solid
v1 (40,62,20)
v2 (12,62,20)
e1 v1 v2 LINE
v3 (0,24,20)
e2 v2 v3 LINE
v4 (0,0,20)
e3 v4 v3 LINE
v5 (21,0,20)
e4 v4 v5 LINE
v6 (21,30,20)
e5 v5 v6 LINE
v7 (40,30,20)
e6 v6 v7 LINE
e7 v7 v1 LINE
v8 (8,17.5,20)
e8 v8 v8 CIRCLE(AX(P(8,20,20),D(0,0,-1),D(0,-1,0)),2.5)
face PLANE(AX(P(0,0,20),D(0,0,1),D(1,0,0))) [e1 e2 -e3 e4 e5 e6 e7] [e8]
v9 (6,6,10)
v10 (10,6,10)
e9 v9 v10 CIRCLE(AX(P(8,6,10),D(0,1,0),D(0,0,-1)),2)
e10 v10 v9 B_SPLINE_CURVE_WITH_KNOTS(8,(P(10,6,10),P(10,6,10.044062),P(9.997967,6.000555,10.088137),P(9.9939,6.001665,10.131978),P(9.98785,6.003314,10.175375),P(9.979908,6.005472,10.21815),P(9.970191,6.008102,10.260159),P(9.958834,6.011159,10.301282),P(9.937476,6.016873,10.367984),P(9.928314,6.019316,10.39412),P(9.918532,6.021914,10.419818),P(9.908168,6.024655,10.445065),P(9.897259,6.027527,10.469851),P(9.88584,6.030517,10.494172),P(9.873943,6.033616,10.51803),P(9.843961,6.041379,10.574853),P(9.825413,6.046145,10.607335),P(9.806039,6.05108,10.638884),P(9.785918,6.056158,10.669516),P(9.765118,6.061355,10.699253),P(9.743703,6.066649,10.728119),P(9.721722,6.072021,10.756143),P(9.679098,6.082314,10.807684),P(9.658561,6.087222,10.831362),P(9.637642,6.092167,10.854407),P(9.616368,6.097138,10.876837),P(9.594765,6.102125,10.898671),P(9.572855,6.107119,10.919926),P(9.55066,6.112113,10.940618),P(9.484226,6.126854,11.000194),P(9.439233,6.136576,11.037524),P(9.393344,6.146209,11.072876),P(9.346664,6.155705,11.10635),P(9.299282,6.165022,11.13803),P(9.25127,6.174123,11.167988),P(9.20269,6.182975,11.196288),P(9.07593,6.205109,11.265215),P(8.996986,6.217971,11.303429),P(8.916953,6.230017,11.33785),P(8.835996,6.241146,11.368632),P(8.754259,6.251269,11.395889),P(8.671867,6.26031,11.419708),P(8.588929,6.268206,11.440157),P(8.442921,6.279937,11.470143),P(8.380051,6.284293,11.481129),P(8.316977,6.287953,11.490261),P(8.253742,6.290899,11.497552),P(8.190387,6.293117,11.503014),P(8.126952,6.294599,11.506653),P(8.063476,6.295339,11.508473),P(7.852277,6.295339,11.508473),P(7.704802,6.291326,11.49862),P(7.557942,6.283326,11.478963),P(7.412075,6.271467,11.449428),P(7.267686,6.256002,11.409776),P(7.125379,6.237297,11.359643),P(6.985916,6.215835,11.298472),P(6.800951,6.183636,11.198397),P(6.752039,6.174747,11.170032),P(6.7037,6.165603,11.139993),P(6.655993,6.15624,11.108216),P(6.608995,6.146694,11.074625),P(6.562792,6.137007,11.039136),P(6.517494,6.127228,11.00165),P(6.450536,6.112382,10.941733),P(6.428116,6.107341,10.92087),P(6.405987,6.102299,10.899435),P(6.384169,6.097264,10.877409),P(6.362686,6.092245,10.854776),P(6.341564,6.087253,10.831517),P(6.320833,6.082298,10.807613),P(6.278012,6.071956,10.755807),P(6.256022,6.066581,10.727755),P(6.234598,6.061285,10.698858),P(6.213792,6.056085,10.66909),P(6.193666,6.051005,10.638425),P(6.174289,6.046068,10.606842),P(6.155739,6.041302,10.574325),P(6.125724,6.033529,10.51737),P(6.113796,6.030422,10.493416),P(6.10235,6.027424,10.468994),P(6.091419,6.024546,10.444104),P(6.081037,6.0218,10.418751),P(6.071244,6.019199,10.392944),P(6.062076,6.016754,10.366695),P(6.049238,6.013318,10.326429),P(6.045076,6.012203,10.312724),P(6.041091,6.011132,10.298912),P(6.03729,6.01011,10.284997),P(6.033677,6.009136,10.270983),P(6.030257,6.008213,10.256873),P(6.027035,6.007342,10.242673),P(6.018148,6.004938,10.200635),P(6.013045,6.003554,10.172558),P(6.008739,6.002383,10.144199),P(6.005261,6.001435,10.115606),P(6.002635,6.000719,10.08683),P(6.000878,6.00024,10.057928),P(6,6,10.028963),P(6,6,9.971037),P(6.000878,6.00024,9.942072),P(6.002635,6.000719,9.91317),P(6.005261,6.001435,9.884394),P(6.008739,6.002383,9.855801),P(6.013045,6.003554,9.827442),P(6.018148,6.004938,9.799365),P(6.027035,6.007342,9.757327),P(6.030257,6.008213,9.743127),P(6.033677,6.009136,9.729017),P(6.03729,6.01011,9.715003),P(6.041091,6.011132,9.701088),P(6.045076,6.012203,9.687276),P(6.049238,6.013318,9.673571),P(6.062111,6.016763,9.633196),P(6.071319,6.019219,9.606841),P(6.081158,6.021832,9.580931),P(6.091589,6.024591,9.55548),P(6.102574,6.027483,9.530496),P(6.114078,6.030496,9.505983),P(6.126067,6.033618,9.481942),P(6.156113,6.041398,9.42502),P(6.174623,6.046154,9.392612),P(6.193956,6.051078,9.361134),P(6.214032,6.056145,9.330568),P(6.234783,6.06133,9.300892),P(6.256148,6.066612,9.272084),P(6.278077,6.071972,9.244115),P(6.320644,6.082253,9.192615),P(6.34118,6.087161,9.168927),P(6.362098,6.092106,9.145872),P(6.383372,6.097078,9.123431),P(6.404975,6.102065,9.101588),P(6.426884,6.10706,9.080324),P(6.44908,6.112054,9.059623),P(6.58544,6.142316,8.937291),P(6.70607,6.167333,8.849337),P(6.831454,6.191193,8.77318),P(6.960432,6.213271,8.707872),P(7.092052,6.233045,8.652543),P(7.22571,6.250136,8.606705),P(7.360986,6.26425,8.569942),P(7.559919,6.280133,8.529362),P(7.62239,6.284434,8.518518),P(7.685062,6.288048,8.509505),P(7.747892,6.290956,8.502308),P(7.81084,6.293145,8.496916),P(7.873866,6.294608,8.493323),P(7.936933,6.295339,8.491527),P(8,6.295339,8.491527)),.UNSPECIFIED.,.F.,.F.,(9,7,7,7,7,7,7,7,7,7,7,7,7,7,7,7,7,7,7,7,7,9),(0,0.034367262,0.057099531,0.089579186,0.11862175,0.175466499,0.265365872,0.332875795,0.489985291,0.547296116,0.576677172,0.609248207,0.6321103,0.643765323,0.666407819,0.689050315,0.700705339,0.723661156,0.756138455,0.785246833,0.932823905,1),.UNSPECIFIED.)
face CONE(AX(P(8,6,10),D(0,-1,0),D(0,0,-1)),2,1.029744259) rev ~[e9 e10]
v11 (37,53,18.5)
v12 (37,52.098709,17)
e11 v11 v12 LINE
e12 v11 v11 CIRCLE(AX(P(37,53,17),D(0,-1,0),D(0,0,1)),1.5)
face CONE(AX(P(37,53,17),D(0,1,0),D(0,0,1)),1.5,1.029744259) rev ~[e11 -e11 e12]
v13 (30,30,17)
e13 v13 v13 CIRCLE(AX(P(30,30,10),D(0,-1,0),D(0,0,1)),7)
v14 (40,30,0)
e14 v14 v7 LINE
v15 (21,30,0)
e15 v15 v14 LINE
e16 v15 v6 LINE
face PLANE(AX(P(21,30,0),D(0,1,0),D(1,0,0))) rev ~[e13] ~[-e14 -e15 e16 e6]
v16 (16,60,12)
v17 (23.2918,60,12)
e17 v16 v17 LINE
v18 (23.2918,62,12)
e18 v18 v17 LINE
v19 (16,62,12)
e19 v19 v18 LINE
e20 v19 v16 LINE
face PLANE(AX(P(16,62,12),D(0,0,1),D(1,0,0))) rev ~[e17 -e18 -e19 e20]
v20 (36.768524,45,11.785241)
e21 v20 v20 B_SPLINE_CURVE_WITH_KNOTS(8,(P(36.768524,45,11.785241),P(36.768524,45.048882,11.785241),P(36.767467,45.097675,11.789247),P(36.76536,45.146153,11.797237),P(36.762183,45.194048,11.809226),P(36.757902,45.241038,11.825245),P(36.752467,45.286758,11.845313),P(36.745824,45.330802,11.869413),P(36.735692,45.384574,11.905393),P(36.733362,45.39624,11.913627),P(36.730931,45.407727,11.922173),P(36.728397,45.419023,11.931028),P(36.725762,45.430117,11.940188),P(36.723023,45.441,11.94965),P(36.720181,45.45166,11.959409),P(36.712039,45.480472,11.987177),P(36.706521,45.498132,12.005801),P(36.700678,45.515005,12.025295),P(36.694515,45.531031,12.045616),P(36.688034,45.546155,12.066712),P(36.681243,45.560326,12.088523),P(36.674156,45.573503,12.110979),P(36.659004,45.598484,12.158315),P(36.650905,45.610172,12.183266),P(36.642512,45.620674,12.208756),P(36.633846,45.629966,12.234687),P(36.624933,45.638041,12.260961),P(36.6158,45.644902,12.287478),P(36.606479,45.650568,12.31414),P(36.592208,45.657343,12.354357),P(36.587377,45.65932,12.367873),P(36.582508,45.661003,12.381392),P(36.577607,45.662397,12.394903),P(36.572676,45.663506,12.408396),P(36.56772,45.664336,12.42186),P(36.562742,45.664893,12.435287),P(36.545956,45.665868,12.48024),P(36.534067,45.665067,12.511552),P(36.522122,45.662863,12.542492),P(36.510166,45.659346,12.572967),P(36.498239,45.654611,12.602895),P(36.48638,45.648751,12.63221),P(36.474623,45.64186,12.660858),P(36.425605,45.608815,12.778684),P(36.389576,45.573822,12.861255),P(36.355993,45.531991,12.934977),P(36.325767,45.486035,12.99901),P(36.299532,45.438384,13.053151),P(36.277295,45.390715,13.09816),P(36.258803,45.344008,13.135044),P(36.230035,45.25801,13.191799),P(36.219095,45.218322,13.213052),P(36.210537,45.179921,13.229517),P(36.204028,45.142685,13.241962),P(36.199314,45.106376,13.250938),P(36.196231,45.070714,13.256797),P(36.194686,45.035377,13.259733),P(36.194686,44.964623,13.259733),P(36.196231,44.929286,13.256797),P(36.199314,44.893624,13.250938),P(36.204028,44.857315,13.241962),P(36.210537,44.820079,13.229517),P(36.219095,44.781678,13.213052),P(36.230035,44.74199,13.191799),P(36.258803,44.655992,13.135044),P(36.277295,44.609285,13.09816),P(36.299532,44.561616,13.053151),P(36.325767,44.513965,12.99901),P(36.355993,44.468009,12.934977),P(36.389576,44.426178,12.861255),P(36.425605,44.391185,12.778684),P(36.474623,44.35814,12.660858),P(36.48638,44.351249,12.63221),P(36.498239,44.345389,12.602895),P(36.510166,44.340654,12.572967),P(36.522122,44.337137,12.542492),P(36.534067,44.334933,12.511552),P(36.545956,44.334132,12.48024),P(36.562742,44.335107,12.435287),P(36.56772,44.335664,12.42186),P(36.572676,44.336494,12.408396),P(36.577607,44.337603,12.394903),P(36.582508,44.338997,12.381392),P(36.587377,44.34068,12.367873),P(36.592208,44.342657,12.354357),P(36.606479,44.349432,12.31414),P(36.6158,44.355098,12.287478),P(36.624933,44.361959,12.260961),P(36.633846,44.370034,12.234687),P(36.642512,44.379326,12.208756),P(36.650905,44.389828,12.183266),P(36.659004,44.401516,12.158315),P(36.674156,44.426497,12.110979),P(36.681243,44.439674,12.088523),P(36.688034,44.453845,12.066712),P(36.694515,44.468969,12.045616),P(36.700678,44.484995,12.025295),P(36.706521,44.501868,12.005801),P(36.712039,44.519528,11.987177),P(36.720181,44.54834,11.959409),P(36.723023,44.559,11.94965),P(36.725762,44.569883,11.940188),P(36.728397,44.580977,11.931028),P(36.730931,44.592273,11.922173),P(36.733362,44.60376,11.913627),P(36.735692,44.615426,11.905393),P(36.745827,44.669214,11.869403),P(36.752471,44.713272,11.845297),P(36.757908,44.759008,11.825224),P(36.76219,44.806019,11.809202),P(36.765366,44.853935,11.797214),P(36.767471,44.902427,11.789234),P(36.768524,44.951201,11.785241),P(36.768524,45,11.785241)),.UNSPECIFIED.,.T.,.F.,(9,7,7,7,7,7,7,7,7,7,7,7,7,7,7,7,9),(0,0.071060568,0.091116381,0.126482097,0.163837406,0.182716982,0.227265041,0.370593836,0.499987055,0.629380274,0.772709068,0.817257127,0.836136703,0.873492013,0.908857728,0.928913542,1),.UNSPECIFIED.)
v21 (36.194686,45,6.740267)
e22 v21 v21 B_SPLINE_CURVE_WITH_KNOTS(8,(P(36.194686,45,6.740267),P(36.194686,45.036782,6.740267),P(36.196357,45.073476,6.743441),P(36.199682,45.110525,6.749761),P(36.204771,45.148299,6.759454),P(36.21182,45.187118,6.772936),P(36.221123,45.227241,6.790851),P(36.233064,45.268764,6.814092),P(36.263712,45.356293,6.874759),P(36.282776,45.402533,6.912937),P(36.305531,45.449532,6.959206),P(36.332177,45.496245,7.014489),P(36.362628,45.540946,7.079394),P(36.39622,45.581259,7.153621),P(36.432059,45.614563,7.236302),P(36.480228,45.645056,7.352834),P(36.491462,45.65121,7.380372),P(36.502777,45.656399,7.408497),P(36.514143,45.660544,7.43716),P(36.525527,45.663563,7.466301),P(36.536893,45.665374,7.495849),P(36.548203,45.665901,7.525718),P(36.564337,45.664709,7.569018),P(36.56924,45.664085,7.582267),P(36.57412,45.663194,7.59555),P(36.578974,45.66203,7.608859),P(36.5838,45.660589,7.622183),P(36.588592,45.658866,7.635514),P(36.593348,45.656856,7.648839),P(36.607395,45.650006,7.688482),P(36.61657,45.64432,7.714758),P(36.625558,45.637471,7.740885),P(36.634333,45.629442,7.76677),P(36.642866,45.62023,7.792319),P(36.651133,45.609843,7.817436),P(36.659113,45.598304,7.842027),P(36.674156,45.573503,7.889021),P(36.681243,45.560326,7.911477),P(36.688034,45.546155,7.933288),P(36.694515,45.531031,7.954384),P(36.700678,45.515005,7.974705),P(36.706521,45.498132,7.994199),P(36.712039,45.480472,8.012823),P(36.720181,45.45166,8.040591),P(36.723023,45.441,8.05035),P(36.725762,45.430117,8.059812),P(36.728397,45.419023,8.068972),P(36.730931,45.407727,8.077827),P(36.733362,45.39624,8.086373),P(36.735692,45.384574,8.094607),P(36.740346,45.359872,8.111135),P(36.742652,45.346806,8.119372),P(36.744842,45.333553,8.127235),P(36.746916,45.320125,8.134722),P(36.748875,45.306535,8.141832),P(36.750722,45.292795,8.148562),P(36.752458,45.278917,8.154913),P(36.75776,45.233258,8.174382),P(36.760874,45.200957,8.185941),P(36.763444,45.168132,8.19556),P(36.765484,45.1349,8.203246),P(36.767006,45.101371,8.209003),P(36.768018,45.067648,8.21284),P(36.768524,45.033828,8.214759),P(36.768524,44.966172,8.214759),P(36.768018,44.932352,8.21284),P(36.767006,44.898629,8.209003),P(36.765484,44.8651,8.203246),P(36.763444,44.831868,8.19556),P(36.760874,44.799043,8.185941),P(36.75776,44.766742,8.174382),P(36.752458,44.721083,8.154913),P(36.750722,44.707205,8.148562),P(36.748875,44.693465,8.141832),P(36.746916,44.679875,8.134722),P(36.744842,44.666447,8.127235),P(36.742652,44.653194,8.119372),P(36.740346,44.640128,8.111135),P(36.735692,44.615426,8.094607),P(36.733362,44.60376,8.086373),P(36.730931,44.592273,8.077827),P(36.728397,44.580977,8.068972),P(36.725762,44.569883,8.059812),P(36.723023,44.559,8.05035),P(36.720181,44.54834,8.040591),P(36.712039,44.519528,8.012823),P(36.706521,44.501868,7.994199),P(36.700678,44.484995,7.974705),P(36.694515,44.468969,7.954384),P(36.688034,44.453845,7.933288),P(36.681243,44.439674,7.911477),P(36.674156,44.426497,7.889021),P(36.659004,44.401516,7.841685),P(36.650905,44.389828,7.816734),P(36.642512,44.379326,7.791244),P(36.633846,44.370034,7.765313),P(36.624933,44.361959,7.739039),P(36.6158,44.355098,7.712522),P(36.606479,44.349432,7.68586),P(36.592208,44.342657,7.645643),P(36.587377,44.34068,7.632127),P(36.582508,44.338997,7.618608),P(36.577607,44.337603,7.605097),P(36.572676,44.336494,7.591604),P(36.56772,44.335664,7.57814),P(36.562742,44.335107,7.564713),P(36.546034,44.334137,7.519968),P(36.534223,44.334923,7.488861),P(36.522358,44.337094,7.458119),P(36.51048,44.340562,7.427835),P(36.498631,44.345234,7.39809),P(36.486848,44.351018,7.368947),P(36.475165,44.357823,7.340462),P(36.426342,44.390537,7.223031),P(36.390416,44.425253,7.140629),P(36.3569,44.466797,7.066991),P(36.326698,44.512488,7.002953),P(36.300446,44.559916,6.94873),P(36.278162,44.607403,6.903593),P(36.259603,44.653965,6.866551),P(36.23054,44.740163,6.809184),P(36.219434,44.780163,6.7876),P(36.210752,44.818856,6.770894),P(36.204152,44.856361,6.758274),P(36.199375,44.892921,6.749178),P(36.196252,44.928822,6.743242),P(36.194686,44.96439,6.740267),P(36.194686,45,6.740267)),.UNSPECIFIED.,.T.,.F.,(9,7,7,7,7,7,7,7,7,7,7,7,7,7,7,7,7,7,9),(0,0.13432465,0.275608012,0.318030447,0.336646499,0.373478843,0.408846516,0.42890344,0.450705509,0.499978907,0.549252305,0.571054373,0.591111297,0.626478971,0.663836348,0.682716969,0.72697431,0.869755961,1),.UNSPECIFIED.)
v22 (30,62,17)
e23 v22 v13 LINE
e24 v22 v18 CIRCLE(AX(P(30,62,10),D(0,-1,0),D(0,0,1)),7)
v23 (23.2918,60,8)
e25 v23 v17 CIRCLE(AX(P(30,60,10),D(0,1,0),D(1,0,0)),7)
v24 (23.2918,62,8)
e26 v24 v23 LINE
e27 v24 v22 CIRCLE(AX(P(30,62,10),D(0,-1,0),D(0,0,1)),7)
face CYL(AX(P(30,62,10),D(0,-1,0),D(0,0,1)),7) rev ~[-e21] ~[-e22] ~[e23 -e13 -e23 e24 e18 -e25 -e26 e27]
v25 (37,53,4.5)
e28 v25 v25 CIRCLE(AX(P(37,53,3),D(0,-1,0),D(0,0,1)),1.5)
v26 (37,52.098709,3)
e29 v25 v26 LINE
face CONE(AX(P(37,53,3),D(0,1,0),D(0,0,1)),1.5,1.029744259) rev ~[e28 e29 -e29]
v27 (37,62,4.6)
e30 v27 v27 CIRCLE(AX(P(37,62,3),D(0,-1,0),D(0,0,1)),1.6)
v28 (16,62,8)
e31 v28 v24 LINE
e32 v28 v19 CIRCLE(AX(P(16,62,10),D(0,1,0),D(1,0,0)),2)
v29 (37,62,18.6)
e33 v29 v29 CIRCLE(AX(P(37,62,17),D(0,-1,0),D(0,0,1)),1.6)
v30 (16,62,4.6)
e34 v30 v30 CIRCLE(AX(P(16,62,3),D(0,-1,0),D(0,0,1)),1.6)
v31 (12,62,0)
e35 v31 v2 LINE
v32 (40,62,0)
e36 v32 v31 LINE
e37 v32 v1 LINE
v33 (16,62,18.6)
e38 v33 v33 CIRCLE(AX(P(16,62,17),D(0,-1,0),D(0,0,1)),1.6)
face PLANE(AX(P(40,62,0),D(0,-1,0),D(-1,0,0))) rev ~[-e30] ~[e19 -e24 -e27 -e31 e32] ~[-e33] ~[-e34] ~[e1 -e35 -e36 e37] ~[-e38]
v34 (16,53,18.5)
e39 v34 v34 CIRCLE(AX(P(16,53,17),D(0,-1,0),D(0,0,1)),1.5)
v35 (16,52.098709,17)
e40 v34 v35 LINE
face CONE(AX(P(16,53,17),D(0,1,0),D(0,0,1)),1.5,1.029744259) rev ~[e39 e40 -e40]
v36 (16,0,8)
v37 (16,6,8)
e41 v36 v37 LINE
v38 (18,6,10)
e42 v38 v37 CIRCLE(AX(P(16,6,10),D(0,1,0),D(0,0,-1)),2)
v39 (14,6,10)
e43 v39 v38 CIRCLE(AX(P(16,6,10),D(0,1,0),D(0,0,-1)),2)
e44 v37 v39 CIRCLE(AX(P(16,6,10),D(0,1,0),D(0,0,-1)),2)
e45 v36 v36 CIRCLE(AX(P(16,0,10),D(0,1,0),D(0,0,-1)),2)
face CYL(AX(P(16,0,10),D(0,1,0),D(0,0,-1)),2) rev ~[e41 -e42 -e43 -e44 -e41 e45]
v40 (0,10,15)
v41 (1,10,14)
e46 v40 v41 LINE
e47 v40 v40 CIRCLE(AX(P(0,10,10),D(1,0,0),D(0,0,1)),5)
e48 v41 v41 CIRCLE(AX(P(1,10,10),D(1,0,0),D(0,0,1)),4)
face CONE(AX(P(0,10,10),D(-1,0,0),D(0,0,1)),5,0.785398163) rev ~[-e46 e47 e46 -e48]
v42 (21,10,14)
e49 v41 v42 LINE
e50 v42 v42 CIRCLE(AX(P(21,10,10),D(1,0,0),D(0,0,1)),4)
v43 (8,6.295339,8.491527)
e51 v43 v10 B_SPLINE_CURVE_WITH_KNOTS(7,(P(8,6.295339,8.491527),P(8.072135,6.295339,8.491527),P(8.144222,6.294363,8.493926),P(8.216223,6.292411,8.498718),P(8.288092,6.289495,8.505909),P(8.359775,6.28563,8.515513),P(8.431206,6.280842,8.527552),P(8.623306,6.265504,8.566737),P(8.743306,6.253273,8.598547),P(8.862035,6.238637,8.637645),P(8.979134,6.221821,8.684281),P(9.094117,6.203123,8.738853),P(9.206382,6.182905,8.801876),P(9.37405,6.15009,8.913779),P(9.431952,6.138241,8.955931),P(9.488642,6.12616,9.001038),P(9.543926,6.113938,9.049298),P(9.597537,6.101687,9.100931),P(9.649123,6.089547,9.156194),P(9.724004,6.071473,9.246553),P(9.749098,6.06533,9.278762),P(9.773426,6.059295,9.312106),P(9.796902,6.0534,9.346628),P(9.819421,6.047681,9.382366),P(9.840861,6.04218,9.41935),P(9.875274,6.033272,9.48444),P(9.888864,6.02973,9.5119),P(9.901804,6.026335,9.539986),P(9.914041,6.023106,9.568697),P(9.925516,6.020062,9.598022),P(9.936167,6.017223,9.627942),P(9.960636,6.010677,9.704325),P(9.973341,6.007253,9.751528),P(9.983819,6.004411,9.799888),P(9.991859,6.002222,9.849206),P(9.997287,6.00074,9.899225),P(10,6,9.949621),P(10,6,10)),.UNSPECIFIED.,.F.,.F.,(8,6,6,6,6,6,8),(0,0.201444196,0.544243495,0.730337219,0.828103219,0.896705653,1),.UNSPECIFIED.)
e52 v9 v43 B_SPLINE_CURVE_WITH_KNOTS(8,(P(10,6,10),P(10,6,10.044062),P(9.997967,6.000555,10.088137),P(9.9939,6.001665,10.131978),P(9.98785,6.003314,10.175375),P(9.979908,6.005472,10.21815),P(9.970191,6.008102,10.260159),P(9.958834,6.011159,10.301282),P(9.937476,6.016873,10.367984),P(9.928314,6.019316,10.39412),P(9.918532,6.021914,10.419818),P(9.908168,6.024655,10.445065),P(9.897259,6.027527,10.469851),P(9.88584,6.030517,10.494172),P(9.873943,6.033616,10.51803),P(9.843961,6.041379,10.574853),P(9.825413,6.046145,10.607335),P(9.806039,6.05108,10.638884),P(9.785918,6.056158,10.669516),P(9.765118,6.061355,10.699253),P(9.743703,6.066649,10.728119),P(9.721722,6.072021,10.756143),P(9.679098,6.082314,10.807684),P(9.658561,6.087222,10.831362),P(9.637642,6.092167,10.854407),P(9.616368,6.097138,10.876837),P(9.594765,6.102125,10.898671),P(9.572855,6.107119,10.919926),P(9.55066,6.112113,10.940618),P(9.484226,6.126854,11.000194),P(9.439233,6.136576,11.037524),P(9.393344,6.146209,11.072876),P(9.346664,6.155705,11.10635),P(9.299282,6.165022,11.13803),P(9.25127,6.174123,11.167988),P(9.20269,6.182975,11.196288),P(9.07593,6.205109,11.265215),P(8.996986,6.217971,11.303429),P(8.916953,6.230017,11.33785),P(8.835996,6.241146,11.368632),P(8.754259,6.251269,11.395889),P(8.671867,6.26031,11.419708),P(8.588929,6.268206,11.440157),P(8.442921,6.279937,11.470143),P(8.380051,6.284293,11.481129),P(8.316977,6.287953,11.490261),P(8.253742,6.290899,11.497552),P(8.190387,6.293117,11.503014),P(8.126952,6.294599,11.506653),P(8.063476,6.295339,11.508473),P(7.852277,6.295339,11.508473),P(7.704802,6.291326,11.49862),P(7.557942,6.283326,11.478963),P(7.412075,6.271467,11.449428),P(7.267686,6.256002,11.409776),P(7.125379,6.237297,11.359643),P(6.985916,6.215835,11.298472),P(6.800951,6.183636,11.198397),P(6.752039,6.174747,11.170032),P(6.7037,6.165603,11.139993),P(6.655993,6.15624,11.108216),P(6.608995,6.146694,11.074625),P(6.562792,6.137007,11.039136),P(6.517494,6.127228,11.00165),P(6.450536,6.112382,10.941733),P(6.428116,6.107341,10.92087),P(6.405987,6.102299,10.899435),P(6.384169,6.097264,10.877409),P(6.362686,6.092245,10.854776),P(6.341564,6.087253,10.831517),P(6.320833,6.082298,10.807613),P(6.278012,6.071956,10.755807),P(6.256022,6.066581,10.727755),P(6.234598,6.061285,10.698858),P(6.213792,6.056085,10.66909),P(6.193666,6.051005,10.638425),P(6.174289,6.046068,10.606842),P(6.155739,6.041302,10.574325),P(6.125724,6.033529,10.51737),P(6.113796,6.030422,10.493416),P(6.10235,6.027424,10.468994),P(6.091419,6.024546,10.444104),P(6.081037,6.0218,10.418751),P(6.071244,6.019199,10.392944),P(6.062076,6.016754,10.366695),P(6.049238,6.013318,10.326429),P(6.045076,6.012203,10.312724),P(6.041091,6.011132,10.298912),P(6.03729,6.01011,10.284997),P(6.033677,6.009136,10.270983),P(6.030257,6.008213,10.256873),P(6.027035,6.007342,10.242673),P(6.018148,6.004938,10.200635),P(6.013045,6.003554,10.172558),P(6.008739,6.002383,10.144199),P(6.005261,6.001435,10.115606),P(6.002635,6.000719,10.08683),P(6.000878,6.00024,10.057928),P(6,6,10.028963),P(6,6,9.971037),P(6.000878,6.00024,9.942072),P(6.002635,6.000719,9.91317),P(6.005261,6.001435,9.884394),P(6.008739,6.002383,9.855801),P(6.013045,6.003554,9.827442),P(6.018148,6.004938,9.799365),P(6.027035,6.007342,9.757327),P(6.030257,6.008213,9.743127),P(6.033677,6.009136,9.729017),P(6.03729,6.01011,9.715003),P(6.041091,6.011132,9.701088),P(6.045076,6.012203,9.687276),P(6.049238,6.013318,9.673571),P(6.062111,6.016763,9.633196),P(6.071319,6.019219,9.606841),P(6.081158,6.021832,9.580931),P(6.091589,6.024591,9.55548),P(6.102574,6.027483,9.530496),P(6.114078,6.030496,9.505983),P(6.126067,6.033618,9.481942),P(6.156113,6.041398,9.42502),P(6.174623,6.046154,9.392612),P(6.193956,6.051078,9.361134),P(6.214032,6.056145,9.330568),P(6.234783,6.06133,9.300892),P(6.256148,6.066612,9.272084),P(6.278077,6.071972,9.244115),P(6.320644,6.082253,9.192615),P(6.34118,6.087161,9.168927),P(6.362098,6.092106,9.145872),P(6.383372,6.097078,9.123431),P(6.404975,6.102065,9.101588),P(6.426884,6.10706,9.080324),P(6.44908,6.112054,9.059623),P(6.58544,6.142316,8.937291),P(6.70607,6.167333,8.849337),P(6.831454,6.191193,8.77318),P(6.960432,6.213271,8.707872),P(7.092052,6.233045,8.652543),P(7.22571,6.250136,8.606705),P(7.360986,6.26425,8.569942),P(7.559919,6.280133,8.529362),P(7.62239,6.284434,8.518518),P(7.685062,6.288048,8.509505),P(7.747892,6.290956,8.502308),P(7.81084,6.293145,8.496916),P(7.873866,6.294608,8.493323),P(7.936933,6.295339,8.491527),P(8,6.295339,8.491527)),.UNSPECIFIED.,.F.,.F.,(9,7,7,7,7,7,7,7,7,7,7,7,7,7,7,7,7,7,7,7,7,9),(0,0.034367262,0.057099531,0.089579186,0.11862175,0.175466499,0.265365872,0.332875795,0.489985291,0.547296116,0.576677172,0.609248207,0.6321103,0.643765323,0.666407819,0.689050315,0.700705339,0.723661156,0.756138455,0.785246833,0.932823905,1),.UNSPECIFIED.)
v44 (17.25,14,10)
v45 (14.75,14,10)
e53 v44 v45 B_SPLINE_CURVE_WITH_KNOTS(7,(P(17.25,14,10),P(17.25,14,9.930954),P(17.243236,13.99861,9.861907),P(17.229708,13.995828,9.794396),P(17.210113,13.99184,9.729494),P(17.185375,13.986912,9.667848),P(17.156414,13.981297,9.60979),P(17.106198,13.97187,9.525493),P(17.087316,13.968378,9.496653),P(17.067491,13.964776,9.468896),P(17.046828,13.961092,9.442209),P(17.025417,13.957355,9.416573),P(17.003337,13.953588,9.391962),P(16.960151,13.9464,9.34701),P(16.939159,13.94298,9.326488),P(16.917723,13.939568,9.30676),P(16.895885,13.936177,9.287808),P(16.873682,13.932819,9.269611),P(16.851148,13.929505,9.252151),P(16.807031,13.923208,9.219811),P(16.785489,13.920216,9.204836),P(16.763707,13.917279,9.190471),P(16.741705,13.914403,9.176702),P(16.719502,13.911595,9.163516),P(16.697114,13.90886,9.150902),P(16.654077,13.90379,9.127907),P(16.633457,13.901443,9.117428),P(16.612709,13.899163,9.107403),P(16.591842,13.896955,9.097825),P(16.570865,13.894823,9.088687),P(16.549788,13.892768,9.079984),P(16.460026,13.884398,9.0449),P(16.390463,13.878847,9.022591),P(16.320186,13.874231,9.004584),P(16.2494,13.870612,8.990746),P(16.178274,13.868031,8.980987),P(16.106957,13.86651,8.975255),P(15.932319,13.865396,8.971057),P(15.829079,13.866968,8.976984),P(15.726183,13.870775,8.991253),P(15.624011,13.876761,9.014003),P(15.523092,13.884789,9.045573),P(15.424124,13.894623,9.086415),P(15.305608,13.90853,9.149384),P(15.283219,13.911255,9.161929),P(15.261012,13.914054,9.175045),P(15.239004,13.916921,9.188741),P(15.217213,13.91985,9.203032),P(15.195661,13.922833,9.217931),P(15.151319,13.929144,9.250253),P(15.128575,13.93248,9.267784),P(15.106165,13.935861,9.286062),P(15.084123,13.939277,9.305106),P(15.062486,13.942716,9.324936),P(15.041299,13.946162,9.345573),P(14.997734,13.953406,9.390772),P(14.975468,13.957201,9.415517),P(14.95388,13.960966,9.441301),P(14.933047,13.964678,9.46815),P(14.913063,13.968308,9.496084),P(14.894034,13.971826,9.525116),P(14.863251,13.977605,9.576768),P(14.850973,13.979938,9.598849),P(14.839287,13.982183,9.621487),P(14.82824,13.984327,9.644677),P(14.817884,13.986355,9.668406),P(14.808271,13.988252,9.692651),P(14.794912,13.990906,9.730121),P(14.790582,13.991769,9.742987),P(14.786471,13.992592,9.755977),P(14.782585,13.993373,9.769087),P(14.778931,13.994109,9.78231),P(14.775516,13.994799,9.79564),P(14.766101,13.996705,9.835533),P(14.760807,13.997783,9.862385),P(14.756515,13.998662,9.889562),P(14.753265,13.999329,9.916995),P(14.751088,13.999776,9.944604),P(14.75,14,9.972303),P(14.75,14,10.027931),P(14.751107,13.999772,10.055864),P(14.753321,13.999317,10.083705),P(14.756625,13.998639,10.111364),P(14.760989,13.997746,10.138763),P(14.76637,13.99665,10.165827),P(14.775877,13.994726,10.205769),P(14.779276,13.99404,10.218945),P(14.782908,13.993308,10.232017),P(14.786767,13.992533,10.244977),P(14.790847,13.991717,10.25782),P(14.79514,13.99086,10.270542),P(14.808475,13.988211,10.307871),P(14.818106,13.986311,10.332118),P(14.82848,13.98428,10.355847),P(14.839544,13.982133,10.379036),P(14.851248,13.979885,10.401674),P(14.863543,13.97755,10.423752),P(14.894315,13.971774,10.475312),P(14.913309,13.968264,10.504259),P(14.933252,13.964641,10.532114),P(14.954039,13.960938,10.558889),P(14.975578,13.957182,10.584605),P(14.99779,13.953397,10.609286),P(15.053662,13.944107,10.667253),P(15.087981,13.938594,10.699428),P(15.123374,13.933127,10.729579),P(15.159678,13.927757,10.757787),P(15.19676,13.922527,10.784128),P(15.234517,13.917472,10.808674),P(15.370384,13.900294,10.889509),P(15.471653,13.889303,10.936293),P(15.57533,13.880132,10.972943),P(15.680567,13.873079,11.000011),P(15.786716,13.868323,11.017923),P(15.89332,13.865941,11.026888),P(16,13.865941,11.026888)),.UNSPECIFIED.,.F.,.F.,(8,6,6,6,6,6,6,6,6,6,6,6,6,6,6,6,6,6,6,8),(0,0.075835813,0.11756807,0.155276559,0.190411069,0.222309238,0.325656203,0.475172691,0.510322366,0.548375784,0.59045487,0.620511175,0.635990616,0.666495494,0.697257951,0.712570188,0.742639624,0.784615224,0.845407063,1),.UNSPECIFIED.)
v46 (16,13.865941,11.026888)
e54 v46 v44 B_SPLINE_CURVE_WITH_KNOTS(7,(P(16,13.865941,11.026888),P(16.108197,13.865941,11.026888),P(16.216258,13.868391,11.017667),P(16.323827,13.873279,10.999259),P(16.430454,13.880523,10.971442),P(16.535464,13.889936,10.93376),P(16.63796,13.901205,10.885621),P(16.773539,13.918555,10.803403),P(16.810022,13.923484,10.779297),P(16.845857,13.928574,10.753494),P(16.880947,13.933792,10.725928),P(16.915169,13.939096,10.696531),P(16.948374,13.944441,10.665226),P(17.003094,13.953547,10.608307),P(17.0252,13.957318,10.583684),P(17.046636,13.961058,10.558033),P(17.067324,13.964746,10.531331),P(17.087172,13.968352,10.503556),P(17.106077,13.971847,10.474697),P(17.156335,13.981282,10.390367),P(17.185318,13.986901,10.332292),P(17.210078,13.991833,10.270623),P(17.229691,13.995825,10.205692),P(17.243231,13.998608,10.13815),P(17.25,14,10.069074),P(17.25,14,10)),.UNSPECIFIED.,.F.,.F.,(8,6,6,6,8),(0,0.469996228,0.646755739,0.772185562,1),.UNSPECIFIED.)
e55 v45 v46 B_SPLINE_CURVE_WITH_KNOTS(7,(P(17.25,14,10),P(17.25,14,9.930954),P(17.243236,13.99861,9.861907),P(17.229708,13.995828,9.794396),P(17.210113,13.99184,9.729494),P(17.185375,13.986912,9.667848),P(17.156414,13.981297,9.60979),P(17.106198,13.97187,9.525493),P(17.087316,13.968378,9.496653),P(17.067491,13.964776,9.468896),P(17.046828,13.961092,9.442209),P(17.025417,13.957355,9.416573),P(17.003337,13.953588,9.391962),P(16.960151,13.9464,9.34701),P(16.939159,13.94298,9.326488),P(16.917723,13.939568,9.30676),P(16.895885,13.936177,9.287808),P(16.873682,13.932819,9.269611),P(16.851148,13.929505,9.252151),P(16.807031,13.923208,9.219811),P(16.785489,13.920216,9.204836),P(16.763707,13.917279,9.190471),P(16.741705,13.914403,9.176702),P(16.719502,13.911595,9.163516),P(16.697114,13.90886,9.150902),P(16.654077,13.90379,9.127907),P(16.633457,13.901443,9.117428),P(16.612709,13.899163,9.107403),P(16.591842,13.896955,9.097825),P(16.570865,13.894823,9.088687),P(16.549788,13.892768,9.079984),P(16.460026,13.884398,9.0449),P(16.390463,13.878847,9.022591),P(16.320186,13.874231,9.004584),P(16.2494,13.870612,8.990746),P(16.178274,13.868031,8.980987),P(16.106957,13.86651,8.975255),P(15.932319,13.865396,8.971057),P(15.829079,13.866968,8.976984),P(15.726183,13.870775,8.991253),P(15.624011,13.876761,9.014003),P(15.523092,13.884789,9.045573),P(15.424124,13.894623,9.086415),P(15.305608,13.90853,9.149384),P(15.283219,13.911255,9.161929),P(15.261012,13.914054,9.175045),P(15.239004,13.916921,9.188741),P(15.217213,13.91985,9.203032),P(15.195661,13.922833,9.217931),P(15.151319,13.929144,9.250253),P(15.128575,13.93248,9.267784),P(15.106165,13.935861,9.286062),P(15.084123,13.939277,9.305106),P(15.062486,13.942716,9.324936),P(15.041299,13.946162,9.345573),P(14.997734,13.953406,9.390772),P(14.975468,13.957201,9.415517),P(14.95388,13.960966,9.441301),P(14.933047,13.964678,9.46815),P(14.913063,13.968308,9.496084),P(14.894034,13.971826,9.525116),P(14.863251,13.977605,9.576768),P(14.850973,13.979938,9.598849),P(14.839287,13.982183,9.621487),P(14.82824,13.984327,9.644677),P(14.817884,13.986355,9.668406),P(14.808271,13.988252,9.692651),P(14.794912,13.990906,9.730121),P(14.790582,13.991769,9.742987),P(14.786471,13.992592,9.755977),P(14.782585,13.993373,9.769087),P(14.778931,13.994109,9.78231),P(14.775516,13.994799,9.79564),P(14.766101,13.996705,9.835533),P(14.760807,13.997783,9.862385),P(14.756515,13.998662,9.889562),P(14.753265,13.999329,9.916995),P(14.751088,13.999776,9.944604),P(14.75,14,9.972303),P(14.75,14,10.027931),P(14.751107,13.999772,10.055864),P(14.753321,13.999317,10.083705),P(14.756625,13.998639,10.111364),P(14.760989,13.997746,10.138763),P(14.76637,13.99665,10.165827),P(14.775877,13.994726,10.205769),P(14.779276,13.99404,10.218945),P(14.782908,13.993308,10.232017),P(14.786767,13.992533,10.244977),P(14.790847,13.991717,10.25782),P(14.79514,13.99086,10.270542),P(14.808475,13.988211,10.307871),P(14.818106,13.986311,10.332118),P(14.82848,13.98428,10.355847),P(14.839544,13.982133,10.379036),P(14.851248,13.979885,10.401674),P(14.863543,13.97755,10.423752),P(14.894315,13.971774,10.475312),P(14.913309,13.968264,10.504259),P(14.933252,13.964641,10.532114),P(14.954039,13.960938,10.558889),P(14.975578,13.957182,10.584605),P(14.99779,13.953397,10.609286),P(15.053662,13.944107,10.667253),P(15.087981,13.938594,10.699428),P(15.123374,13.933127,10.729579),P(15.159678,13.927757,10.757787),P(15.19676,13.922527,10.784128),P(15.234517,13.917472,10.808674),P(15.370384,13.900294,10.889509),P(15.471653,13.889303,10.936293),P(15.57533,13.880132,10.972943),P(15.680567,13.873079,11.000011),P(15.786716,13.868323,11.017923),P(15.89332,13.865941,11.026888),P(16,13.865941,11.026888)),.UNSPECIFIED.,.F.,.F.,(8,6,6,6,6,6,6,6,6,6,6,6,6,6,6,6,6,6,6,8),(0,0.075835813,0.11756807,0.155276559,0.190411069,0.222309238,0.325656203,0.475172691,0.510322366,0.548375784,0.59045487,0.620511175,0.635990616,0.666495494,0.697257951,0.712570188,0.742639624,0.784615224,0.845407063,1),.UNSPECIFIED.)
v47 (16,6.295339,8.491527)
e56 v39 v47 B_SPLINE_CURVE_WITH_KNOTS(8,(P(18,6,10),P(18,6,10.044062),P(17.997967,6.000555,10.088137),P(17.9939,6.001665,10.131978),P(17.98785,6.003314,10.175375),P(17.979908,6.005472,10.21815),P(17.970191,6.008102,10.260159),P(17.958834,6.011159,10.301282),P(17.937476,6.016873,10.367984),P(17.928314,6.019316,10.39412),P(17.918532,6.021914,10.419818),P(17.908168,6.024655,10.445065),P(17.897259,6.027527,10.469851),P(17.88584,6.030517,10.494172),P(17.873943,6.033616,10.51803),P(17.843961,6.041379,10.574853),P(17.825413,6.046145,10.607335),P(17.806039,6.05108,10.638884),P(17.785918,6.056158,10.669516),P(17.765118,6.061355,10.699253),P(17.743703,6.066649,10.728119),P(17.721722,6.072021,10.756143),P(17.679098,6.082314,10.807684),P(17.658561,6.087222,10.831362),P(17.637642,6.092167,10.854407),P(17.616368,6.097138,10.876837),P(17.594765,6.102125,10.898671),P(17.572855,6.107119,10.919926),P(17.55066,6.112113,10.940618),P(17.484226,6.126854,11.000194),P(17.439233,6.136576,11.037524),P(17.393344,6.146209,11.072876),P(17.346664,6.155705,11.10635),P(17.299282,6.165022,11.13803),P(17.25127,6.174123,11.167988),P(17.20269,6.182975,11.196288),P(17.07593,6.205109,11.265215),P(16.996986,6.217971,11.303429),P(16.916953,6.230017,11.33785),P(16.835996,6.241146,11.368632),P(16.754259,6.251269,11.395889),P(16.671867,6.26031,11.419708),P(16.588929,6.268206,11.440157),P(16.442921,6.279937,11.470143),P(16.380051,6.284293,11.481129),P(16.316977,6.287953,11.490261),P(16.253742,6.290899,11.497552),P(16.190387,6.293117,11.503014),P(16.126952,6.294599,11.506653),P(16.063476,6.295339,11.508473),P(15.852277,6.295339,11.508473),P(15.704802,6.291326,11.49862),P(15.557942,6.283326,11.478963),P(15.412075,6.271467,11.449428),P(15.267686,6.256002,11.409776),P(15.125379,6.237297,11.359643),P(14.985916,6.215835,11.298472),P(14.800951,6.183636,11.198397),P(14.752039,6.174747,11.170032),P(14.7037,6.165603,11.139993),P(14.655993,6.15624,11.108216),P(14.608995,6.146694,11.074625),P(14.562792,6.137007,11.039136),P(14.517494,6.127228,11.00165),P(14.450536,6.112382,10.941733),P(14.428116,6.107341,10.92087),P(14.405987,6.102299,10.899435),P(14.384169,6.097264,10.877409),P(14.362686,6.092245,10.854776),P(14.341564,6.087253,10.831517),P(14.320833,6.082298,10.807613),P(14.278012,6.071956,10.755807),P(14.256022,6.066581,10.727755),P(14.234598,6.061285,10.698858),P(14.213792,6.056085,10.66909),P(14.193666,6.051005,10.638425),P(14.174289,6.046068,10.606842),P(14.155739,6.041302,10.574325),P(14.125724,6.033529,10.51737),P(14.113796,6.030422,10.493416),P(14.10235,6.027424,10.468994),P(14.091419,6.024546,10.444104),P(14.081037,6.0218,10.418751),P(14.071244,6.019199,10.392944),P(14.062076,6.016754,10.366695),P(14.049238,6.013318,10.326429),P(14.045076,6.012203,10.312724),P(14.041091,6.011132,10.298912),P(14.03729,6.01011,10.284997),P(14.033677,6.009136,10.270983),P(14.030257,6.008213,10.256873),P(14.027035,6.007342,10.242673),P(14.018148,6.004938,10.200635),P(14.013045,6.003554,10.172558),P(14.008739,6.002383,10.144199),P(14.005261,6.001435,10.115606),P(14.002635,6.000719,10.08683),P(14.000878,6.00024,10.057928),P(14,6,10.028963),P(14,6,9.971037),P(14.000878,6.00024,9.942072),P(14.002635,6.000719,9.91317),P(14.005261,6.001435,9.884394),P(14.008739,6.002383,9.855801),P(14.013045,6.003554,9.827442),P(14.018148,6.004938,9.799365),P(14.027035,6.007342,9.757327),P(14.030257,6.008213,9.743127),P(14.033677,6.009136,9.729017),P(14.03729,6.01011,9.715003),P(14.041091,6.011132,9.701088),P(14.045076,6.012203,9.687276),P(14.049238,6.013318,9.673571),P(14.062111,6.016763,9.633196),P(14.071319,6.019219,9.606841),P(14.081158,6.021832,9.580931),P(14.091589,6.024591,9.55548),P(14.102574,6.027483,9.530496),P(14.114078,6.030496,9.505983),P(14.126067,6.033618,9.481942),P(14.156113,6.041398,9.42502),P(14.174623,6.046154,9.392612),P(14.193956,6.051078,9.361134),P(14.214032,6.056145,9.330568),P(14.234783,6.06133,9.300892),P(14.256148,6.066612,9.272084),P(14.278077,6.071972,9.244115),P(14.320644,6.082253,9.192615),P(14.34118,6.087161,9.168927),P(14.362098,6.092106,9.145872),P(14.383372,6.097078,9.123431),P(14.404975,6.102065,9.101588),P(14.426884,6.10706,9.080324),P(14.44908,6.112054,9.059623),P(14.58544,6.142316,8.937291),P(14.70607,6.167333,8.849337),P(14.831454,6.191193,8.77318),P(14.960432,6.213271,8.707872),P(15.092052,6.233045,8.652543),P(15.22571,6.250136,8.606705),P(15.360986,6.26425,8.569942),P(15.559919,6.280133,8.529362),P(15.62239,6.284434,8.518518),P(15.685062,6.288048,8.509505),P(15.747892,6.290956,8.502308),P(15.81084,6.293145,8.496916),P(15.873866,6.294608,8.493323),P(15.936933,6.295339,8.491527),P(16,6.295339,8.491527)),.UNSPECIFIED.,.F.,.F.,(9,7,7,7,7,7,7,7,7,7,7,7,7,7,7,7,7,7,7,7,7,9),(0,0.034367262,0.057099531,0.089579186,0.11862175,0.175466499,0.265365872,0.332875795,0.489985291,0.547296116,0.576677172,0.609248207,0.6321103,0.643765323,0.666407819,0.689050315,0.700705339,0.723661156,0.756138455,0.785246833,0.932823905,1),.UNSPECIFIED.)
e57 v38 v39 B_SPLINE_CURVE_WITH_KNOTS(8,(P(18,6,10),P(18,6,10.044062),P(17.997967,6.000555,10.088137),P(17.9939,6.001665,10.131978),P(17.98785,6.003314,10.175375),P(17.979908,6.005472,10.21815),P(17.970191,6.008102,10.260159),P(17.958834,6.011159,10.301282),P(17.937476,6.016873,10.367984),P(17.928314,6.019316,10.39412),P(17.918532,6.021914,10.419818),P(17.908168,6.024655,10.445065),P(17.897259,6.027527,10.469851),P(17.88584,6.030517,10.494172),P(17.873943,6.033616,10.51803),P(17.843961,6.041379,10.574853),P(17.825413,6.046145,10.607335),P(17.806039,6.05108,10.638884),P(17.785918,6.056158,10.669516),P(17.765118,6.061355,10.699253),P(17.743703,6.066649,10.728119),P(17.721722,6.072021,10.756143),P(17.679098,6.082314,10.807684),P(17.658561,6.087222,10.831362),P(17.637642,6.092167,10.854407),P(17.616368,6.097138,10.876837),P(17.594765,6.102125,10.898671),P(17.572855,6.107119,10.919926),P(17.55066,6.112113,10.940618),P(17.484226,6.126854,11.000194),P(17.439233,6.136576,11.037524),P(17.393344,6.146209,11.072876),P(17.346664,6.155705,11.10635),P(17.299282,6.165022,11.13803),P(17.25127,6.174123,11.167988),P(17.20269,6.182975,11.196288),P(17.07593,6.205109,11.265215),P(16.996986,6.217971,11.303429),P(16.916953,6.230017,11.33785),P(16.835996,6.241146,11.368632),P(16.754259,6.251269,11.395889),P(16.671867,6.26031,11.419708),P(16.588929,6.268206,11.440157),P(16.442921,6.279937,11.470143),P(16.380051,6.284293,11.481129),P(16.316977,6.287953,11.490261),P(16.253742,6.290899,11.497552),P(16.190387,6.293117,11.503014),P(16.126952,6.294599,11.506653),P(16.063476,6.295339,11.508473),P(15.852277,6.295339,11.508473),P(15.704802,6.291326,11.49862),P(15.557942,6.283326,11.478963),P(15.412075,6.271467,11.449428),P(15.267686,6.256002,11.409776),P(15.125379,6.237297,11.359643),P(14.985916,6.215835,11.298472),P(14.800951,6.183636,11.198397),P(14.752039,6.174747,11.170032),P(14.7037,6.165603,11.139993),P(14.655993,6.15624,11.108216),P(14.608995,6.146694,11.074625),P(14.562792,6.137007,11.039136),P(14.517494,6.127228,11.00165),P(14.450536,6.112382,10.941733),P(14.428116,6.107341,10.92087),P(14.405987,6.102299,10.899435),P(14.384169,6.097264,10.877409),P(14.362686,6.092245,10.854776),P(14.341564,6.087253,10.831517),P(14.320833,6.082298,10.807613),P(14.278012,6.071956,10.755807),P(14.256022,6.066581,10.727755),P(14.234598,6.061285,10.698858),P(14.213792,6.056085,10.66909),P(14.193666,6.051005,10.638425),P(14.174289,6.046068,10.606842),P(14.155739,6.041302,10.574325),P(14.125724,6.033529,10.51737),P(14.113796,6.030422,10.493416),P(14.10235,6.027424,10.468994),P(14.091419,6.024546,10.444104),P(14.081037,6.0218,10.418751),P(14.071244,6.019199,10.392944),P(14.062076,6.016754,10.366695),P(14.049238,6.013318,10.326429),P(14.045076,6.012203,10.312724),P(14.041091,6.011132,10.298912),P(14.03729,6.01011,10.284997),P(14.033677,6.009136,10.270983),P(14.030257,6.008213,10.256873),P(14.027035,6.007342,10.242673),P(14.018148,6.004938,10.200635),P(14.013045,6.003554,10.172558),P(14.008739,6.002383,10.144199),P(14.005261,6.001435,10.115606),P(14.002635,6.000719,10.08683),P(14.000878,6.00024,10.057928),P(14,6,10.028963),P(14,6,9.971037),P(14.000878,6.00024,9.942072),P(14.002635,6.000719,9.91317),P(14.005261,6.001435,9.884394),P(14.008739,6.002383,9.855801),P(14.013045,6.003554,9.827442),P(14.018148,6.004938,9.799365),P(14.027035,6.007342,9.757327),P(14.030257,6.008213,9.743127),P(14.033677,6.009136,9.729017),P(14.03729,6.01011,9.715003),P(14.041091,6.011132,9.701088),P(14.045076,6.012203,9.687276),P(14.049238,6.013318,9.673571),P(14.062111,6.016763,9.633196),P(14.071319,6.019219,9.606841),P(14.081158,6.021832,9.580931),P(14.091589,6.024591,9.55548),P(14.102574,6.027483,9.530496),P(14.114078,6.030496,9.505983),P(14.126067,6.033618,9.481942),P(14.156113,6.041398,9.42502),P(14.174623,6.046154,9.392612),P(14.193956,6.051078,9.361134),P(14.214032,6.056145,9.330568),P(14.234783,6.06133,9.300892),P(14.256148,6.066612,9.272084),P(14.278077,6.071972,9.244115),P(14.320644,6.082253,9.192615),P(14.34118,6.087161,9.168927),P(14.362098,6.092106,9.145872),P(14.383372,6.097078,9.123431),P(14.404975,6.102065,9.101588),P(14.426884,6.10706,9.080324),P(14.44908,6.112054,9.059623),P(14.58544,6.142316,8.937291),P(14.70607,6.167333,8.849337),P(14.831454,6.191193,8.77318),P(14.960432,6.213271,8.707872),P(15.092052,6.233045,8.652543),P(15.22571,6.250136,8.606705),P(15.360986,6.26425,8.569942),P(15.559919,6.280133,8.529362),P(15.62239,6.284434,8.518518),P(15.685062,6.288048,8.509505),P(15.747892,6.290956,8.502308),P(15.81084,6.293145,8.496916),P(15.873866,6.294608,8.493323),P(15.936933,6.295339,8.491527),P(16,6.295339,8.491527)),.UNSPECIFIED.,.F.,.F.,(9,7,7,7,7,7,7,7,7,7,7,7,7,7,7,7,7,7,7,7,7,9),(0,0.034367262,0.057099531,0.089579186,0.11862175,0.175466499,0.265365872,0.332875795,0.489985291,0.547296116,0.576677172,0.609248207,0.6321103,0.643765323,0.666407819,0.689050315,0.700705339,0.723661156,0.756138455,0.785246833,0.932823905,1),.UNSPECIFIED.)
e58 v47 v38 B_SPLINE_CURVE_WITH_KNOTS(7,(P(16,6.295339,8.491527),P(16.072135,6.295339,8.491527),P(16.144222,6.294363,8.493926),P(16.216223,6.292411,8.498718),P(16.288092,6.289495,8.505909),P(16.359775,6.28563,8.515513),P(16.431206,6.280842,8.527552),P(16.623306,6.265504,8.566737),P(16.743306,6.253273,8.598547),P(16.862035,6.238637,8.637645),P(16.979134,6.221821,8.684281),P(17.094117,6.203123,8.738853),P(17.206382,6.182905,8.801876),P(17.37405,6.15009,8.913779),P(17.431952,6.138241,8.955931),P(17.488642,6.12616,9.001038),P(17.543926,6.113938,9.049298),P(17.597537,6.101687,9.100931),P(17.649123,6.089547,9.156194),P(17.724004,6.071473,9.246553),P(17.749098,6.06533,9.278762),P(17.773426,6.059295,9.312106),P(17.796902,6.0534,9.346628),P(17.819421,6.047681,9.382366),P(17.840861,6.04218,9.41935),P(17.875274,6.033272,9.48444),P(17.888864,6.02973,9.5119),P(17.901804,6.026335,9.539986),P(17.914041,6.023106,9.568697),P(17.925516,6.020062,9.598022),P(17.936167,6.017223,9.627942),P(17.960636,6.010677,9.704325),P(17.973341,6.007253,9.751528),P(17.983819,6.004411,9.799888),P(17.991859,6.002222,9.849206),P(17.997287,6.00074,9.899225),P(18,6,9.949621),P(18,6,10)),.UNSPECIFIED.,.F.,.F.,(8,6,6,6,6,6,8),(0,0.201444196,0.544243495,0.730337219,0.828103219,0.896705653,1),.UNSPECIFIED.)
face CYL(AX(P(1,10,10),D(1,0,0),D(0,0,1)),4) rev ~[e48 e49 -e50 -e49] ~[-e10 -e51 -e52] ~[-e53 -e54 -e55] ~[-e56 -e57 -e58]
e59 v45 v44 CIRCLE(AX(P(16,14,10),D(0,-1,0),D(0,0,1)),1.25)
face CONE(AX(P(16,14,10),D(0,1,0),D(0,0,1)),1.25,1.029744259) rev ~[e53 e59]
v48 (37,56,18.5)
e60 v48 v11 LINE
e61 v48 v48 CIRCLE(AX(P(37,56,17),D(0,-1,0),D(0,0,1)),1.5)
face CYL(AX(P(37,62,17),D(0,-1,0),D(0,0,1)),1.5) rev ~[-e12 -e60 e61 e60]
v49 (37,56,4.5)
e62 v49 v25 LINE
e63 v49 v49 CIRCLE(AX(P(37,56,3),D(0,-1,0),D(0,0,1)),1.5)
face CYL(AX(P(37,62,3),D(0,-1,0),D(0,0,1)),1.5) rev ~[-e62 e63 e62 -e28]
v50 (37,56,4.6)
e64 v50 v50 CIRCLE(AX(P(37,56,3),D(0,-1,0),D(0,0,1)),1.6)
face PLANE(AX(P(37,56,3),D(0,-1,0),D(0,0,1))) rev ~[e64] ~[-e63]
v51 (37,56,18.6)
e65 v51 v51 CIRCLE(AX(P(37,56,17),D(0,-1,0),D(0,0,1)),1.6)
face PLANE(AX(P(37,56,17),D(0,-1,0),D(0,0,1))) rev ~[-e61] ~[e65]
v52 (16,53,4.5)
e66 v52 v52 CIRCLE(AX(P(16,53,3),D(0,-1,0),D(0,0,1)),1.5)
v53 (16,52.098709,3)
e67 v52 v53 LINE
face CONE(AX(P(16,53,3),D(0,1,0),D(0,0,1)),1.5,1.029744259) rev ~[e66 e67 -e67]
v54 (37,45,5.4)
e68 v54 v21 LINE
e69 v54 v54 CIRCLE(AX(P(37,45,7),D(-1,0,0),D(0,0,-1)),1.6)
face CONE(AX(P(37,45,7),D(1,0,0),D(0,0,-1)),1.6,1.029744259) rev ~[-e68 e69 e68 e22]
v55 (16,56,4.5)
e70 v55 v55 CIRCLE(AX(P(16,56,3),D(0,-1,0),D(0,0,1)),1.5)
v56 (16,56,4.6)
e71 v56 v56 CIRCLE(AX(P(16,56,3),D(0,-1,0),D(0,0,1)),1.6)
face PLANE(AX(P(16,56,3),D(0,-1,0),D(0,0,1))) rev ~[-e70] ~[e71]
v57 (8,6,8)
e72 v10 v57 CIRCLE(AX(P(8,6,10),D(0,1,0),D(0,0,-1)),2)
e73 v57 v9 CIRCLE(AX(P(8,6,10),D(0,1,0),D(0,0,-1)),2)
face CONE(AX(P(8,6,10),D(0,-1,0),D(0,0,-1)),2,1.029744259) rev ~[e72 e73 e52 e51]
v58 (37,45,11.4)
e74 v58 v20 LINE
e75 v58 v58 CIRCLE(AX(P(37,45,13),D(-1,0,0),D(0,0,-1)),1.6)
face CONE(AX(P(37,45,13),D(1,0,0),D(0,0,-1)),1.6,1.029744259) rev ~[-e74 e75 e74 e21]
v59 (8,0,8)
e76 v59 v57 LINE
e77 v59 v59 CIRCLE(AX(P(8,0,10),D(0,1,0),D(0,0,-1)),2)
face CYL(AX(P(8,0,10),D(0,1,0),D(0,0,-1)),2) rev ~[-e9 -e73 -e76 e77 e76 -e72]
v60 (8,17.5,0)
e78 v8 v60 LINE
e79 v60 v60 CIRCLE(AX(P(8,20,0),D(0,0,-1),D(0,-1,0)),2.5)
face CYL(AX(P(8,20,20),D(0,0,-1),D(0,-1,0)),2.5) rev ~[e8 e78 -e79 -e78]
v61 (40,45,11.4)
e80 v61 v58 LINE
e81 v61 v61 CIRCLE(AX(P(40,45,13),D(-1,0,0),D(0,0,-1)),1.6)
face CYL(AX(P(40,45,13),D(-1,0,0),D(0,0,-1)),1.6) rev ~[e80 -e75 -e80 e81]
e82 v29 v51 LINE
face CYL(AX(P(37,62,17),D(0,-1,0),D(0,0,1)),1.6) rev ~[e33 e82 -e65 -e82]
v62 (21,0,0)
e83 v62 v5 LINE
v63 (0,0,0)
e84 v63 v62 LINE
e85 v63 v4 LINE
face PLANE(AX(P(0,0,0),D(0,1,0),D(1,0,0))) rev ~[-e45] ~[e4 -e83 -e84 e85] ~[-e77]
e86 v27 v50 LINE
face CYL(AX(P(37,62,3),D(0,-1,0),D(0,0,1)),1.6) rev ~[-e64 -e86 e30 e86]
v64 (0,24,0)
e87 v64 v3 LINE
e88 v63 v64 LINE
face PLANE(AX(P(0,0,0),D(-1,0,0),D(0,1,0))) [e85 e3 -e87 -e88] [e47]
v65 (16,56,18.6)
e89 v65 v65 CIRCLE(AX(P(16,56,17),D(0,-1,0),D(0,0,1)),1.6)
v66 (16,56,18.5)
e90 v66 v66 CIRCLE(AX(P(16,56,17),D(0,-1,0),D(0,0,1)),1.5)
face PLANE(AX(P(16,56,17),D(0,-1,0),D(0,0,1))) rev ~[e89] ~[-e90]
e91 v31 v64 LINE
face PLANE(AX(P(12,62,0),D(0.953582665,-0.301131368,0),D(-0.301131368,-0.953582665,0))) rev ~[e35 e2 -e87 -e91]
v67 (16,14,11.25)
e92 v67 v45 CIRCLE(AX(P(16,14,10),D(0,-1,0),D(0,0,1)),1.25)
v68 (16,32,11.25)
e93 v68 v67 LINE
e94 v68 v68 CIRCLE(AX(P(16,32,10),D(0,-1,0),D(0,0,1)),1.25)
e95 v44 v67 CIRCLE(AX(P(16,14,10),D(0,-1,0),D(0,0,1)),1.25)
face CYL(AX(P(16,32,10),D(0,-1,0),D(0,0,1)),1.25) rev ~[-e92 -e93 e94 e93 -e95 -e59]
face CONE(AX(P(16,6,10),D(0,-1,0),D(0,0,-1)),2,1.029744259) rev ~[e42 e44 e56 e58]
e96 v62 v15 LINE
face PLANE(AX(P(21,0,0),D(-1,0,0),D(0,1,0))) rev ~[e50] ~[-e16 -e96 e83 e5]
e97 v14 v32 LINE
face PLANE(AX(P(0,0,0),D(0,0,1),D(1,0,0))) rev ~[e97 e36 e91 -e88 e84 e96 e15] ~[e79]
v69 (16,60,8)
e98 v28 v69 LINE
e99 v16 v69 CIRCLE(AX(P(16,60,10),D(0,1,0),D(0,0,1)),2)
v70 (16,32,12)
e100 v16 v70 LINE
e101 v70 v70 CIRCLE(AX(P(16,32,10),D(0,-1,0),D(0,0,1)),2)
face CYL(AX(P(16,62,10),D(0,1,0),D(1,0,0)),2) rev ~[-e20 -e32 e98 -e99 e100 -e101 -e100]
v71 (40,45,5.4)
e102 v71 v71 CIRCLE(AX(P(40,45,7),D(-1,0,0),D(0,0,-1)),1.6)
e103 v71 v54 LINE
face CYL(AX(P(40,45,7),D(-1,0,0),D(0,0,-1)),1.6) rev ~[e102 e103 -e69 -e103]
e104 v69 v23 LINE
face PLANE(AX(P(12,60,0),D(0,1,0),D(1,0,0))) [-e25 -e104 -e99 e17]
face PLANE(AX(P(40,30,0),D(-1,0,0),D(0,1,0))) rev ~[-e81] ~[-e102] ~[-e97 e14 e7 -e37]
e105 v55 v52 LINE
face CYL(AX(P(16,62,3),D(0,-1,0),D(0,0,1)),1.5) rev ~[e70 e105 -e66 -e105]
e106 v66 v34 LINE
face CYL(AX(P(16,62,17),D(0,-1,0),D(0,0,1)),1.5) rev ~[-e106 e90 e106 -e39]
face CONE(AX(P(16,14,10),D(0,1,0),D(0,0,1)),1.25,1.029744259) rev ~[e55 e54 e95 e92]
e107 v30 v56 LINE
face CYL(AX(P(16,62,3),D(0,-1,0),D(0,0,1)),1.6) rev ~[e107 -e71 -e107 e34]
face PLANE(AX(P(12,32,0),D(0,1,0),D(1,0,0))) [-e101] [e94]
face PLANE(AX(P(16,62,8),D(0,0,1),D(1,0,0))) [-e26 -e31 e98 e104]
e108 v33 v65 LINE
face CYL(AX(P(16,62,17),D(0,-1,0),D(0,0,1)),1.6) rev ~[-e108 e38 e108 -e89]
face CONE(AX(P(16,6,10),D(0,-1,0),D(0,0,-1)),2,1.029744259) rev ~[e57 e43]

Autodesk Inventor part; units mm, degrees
ref_plane "YZ Plane" through (0, 0, 0) normal (1, 0, 0) x (0, 1, 0)
ref_plane "XZ Plane" through (0, 0, 0) normal (0, 1, 0) x (-1, 0, 0)
sketch "Sketch1" plane through (0, 0, 0) normal (0, 0, 1) x (1, 0, 0)
  line L0 (0, 0) -> (0, 24)
  line L1 (0, 0) -> (21, 0)
  line L2 (21, 0) -> (21, 30)
  line L3 (21, 30) -> (40, 30)
  line L4 (40, 30) -> (40, 62)
  line L5 (40, 62) -> (12, 62)
  line L6 (12, 62) -> (0, 24)
  dimension "d0" = 24
  dimension "d1" = 21
  dimension "d2" = 30
  dimension "d3" = 19
  dimension "d4" = 32
  dimension "d5" = 28
extrude "Extrusion1" add sketch "Sketch1" along normal blind 20
sketch "Sketch2" plane through (12, 62, 0) normal (0, 1, 0) x (1, 0, 0)
  line L0 (28, 0) -> (28, -20) projected
  line L1 (28, -10) -> (18, -10)
  line L2 (28, 0) -> (28, -20) projected
  line L3 (28, -20) -> (0, -20) projected
  line L4 (0, -20) -> (0, 0) projected
  line L5 (0, 0) -> (28, 0) projected
  line L6 (28, 0) -> (28, -20) projected
  line L7 (28, -20) -> (0, -20) projected
  line L8 (0, -20) -> (0, 0) projected
  line L9 (0, 0) -> (28, 0) projected
  circle A0 centre (24, -17) radius 1.5
  circle A1 centre (24, -3) radius 1.5
  circle A2 centre (4, -3) radius 1.5
  circle A3 centre (4, -17) radius 1.5
  point P0 (-12, 0)
  point P1 (14, -10)
  dimension "d8" = 10
  dimension "d18" = 3
  dimension "d19" = 3
  dimension "d20" = 3
hole "Hole1" at (30, 62, 10) direction (0, -1, 0) diameter 14 end through all
sketch "Sketch3" plane through (12, 62, 0) normal (0, 1, 0) x (1, 0, 0)
  line L0 (28, 0) -> (28, -20) projected
  line L1 (28, -20) -> (25, -20)
  line L2 (28, -20) -> (0, -20) projected
  line L3 (25, -20) -> (25, 0)
  line L4 (28, 0) -> (0, 0) projected
  line L5 (25, 0) -> (4, 0)
  line L6 (4, 0) -> (4, -20)
  line L7 (4, -20) -> (25, -20)
  line L8 (4, -10) -> (4, -17)
  line L9 (4, -17) -> (25, -17)
  line L10 (25, -17) -> (25, -3)
  line L11 (25, -3) -> (4, -3)
  point P0 (-12, 0)
  dimension "d21" = 3
  dimension "d22" = 21
  dimension "d23" = 7
hole "Hole2" at (37, 62, 17) at (37, 62, 3) at (16, 62, 3) at (16, 62, 17) direction (0, -1, 0) diameter 3.2 depth 6
sketch "Sketch4" plane through (12, 62, 0) normal (0, 1, 0) x (1, 0, 0)
  point P0 (-12, 0)
sketch "Sketch5" plane through (12, 62, 0) normal (0, 1, 0) x (1, 0, 0)
  circle A0 centre (18, -10) radius 7 projected
  circle A1 centre (4, -10) radius 2
  line L0 (4, -12) -> (11.2918, -12)
  line L1 (4, -8) -> (11.2918, -8)
  point P0 (-12, 0)
  dimension "d32" = 4
extrude "Extrusion2" cut sketch "Sketch5" against normal blind 2 contours A0 L0 A1 L1
sketch "Sketch6" plane through (12, 62, 0) normal (0, 1, 0) x (1, 0, 0)
  arc A0 (4, -12) -> (4, -8) centre (4, -10) ccw projected
  circle A1 centre (4, -10) radius 2
  point P0 (-12, 0)
extrude "Extrusion3" cut sketch "Sketch6" against normal blind 30
sketch "Sketch7" plane through (0, 0, 0) normal (-1, 0, 0) x (0, 0, 1)
  line L0 (0, 0) -> (20, 0) projected
  line L1 (10, 0) -> (10, 10)
  dimension "d37" = 10
hole "Hole3" at (0, 10, 10) direction (1, 0, 0) diameter 8 end through all countersink diameter 10 countersink angle 90
sketch "Sketch8" plane through (0, 0, 20) normal (0, 0, 1) x (1, 0, 0)
  line L0 (0, 24) -> (0, 0) projected
  line L1 (0, 0) -> (0, 20)
  line L2 (0, 20) -> (8, 20)
  dimension "d45" = 20
  dimension "d46" = 8
hole "Hole4" at (8, 20, 20) direction (0, 0, -1) diameter 5 end through all
ref_plane "Work Plane1" through (12, 32, 0) normal (0, 1, 0) x (1, 0, 0)
sketch "Sketch9" plane through (12, 32, 0) normal (0, 1, 0) x (1, 0, 0)
  arc A0 (4, -12) -> (4, -8) centre (4, -10) ccw projected
  circle A1 centre (4, -10) radius 1.25
  point P0 (-12, 0)
  dimension "d55" = 2.5
hole "Hole5" at (16, 32, 10) direction (0, -1, 0) diameter 2.5 depth 18 tip angle 118
hole "Hole6" at (16, 62, 17) at (37, 62, 17) at (37, 62, 3) at (16, 62, 3) direction (0, -1, 0) diameter 3 depth 9 tip angle 118
hole "Hole7" at (16, 62, 17) at (37, 62, 17) at (37, 62, 3) at (16, 62, 3) direction (0, -1, 0) diameter 3 depth 9 tip angle 118
sketch "Sketch10" plane through (0, 0, 0) normal (0, -1, 0) x (1, 0, 0)
  line L0 (0, 5) -> (0, 15) projected
  line L1 (0, 10) -> (8, 10)
  arc A0 (16, 12) -> (16, 8) centre (16, 10) ccw projected
  line L2 (8, 10) -> (16, 10)
  point P0 (0, 0)
  dimension "d77" = 8
  dimension "d78" = 8
hole "Hole8" at (8, 0, 10) at (16, 0, 10) direction (0, 1, 0) diameter 4 depth 6 tip angle 118
sketch "Sketch11" plane through (40, 30, 0) normal (1, 0, 0) x (0, 0, -1)
  line L0 (-12, 32) -> (-8, 32) projected
  line L1 (-10, 32) -> (-10, 15)
  line L2 (-10, 15) -> (-13, 15)
  line L3 (-13, 15) -> (-7, 15)
  point P0 (0, -30)
  dimension "d86" = 17
  dimension "d87" = 3
  dimension "d88" = 6
hole "Hole9" at (40, 45, 13) at (40, 45, 7) direction (-1, 0, 0) diameter 3.2 depth 3 tip angle 118
properties part number "MOTORBLOCK PART 3" material "Steel ASTM A36"
